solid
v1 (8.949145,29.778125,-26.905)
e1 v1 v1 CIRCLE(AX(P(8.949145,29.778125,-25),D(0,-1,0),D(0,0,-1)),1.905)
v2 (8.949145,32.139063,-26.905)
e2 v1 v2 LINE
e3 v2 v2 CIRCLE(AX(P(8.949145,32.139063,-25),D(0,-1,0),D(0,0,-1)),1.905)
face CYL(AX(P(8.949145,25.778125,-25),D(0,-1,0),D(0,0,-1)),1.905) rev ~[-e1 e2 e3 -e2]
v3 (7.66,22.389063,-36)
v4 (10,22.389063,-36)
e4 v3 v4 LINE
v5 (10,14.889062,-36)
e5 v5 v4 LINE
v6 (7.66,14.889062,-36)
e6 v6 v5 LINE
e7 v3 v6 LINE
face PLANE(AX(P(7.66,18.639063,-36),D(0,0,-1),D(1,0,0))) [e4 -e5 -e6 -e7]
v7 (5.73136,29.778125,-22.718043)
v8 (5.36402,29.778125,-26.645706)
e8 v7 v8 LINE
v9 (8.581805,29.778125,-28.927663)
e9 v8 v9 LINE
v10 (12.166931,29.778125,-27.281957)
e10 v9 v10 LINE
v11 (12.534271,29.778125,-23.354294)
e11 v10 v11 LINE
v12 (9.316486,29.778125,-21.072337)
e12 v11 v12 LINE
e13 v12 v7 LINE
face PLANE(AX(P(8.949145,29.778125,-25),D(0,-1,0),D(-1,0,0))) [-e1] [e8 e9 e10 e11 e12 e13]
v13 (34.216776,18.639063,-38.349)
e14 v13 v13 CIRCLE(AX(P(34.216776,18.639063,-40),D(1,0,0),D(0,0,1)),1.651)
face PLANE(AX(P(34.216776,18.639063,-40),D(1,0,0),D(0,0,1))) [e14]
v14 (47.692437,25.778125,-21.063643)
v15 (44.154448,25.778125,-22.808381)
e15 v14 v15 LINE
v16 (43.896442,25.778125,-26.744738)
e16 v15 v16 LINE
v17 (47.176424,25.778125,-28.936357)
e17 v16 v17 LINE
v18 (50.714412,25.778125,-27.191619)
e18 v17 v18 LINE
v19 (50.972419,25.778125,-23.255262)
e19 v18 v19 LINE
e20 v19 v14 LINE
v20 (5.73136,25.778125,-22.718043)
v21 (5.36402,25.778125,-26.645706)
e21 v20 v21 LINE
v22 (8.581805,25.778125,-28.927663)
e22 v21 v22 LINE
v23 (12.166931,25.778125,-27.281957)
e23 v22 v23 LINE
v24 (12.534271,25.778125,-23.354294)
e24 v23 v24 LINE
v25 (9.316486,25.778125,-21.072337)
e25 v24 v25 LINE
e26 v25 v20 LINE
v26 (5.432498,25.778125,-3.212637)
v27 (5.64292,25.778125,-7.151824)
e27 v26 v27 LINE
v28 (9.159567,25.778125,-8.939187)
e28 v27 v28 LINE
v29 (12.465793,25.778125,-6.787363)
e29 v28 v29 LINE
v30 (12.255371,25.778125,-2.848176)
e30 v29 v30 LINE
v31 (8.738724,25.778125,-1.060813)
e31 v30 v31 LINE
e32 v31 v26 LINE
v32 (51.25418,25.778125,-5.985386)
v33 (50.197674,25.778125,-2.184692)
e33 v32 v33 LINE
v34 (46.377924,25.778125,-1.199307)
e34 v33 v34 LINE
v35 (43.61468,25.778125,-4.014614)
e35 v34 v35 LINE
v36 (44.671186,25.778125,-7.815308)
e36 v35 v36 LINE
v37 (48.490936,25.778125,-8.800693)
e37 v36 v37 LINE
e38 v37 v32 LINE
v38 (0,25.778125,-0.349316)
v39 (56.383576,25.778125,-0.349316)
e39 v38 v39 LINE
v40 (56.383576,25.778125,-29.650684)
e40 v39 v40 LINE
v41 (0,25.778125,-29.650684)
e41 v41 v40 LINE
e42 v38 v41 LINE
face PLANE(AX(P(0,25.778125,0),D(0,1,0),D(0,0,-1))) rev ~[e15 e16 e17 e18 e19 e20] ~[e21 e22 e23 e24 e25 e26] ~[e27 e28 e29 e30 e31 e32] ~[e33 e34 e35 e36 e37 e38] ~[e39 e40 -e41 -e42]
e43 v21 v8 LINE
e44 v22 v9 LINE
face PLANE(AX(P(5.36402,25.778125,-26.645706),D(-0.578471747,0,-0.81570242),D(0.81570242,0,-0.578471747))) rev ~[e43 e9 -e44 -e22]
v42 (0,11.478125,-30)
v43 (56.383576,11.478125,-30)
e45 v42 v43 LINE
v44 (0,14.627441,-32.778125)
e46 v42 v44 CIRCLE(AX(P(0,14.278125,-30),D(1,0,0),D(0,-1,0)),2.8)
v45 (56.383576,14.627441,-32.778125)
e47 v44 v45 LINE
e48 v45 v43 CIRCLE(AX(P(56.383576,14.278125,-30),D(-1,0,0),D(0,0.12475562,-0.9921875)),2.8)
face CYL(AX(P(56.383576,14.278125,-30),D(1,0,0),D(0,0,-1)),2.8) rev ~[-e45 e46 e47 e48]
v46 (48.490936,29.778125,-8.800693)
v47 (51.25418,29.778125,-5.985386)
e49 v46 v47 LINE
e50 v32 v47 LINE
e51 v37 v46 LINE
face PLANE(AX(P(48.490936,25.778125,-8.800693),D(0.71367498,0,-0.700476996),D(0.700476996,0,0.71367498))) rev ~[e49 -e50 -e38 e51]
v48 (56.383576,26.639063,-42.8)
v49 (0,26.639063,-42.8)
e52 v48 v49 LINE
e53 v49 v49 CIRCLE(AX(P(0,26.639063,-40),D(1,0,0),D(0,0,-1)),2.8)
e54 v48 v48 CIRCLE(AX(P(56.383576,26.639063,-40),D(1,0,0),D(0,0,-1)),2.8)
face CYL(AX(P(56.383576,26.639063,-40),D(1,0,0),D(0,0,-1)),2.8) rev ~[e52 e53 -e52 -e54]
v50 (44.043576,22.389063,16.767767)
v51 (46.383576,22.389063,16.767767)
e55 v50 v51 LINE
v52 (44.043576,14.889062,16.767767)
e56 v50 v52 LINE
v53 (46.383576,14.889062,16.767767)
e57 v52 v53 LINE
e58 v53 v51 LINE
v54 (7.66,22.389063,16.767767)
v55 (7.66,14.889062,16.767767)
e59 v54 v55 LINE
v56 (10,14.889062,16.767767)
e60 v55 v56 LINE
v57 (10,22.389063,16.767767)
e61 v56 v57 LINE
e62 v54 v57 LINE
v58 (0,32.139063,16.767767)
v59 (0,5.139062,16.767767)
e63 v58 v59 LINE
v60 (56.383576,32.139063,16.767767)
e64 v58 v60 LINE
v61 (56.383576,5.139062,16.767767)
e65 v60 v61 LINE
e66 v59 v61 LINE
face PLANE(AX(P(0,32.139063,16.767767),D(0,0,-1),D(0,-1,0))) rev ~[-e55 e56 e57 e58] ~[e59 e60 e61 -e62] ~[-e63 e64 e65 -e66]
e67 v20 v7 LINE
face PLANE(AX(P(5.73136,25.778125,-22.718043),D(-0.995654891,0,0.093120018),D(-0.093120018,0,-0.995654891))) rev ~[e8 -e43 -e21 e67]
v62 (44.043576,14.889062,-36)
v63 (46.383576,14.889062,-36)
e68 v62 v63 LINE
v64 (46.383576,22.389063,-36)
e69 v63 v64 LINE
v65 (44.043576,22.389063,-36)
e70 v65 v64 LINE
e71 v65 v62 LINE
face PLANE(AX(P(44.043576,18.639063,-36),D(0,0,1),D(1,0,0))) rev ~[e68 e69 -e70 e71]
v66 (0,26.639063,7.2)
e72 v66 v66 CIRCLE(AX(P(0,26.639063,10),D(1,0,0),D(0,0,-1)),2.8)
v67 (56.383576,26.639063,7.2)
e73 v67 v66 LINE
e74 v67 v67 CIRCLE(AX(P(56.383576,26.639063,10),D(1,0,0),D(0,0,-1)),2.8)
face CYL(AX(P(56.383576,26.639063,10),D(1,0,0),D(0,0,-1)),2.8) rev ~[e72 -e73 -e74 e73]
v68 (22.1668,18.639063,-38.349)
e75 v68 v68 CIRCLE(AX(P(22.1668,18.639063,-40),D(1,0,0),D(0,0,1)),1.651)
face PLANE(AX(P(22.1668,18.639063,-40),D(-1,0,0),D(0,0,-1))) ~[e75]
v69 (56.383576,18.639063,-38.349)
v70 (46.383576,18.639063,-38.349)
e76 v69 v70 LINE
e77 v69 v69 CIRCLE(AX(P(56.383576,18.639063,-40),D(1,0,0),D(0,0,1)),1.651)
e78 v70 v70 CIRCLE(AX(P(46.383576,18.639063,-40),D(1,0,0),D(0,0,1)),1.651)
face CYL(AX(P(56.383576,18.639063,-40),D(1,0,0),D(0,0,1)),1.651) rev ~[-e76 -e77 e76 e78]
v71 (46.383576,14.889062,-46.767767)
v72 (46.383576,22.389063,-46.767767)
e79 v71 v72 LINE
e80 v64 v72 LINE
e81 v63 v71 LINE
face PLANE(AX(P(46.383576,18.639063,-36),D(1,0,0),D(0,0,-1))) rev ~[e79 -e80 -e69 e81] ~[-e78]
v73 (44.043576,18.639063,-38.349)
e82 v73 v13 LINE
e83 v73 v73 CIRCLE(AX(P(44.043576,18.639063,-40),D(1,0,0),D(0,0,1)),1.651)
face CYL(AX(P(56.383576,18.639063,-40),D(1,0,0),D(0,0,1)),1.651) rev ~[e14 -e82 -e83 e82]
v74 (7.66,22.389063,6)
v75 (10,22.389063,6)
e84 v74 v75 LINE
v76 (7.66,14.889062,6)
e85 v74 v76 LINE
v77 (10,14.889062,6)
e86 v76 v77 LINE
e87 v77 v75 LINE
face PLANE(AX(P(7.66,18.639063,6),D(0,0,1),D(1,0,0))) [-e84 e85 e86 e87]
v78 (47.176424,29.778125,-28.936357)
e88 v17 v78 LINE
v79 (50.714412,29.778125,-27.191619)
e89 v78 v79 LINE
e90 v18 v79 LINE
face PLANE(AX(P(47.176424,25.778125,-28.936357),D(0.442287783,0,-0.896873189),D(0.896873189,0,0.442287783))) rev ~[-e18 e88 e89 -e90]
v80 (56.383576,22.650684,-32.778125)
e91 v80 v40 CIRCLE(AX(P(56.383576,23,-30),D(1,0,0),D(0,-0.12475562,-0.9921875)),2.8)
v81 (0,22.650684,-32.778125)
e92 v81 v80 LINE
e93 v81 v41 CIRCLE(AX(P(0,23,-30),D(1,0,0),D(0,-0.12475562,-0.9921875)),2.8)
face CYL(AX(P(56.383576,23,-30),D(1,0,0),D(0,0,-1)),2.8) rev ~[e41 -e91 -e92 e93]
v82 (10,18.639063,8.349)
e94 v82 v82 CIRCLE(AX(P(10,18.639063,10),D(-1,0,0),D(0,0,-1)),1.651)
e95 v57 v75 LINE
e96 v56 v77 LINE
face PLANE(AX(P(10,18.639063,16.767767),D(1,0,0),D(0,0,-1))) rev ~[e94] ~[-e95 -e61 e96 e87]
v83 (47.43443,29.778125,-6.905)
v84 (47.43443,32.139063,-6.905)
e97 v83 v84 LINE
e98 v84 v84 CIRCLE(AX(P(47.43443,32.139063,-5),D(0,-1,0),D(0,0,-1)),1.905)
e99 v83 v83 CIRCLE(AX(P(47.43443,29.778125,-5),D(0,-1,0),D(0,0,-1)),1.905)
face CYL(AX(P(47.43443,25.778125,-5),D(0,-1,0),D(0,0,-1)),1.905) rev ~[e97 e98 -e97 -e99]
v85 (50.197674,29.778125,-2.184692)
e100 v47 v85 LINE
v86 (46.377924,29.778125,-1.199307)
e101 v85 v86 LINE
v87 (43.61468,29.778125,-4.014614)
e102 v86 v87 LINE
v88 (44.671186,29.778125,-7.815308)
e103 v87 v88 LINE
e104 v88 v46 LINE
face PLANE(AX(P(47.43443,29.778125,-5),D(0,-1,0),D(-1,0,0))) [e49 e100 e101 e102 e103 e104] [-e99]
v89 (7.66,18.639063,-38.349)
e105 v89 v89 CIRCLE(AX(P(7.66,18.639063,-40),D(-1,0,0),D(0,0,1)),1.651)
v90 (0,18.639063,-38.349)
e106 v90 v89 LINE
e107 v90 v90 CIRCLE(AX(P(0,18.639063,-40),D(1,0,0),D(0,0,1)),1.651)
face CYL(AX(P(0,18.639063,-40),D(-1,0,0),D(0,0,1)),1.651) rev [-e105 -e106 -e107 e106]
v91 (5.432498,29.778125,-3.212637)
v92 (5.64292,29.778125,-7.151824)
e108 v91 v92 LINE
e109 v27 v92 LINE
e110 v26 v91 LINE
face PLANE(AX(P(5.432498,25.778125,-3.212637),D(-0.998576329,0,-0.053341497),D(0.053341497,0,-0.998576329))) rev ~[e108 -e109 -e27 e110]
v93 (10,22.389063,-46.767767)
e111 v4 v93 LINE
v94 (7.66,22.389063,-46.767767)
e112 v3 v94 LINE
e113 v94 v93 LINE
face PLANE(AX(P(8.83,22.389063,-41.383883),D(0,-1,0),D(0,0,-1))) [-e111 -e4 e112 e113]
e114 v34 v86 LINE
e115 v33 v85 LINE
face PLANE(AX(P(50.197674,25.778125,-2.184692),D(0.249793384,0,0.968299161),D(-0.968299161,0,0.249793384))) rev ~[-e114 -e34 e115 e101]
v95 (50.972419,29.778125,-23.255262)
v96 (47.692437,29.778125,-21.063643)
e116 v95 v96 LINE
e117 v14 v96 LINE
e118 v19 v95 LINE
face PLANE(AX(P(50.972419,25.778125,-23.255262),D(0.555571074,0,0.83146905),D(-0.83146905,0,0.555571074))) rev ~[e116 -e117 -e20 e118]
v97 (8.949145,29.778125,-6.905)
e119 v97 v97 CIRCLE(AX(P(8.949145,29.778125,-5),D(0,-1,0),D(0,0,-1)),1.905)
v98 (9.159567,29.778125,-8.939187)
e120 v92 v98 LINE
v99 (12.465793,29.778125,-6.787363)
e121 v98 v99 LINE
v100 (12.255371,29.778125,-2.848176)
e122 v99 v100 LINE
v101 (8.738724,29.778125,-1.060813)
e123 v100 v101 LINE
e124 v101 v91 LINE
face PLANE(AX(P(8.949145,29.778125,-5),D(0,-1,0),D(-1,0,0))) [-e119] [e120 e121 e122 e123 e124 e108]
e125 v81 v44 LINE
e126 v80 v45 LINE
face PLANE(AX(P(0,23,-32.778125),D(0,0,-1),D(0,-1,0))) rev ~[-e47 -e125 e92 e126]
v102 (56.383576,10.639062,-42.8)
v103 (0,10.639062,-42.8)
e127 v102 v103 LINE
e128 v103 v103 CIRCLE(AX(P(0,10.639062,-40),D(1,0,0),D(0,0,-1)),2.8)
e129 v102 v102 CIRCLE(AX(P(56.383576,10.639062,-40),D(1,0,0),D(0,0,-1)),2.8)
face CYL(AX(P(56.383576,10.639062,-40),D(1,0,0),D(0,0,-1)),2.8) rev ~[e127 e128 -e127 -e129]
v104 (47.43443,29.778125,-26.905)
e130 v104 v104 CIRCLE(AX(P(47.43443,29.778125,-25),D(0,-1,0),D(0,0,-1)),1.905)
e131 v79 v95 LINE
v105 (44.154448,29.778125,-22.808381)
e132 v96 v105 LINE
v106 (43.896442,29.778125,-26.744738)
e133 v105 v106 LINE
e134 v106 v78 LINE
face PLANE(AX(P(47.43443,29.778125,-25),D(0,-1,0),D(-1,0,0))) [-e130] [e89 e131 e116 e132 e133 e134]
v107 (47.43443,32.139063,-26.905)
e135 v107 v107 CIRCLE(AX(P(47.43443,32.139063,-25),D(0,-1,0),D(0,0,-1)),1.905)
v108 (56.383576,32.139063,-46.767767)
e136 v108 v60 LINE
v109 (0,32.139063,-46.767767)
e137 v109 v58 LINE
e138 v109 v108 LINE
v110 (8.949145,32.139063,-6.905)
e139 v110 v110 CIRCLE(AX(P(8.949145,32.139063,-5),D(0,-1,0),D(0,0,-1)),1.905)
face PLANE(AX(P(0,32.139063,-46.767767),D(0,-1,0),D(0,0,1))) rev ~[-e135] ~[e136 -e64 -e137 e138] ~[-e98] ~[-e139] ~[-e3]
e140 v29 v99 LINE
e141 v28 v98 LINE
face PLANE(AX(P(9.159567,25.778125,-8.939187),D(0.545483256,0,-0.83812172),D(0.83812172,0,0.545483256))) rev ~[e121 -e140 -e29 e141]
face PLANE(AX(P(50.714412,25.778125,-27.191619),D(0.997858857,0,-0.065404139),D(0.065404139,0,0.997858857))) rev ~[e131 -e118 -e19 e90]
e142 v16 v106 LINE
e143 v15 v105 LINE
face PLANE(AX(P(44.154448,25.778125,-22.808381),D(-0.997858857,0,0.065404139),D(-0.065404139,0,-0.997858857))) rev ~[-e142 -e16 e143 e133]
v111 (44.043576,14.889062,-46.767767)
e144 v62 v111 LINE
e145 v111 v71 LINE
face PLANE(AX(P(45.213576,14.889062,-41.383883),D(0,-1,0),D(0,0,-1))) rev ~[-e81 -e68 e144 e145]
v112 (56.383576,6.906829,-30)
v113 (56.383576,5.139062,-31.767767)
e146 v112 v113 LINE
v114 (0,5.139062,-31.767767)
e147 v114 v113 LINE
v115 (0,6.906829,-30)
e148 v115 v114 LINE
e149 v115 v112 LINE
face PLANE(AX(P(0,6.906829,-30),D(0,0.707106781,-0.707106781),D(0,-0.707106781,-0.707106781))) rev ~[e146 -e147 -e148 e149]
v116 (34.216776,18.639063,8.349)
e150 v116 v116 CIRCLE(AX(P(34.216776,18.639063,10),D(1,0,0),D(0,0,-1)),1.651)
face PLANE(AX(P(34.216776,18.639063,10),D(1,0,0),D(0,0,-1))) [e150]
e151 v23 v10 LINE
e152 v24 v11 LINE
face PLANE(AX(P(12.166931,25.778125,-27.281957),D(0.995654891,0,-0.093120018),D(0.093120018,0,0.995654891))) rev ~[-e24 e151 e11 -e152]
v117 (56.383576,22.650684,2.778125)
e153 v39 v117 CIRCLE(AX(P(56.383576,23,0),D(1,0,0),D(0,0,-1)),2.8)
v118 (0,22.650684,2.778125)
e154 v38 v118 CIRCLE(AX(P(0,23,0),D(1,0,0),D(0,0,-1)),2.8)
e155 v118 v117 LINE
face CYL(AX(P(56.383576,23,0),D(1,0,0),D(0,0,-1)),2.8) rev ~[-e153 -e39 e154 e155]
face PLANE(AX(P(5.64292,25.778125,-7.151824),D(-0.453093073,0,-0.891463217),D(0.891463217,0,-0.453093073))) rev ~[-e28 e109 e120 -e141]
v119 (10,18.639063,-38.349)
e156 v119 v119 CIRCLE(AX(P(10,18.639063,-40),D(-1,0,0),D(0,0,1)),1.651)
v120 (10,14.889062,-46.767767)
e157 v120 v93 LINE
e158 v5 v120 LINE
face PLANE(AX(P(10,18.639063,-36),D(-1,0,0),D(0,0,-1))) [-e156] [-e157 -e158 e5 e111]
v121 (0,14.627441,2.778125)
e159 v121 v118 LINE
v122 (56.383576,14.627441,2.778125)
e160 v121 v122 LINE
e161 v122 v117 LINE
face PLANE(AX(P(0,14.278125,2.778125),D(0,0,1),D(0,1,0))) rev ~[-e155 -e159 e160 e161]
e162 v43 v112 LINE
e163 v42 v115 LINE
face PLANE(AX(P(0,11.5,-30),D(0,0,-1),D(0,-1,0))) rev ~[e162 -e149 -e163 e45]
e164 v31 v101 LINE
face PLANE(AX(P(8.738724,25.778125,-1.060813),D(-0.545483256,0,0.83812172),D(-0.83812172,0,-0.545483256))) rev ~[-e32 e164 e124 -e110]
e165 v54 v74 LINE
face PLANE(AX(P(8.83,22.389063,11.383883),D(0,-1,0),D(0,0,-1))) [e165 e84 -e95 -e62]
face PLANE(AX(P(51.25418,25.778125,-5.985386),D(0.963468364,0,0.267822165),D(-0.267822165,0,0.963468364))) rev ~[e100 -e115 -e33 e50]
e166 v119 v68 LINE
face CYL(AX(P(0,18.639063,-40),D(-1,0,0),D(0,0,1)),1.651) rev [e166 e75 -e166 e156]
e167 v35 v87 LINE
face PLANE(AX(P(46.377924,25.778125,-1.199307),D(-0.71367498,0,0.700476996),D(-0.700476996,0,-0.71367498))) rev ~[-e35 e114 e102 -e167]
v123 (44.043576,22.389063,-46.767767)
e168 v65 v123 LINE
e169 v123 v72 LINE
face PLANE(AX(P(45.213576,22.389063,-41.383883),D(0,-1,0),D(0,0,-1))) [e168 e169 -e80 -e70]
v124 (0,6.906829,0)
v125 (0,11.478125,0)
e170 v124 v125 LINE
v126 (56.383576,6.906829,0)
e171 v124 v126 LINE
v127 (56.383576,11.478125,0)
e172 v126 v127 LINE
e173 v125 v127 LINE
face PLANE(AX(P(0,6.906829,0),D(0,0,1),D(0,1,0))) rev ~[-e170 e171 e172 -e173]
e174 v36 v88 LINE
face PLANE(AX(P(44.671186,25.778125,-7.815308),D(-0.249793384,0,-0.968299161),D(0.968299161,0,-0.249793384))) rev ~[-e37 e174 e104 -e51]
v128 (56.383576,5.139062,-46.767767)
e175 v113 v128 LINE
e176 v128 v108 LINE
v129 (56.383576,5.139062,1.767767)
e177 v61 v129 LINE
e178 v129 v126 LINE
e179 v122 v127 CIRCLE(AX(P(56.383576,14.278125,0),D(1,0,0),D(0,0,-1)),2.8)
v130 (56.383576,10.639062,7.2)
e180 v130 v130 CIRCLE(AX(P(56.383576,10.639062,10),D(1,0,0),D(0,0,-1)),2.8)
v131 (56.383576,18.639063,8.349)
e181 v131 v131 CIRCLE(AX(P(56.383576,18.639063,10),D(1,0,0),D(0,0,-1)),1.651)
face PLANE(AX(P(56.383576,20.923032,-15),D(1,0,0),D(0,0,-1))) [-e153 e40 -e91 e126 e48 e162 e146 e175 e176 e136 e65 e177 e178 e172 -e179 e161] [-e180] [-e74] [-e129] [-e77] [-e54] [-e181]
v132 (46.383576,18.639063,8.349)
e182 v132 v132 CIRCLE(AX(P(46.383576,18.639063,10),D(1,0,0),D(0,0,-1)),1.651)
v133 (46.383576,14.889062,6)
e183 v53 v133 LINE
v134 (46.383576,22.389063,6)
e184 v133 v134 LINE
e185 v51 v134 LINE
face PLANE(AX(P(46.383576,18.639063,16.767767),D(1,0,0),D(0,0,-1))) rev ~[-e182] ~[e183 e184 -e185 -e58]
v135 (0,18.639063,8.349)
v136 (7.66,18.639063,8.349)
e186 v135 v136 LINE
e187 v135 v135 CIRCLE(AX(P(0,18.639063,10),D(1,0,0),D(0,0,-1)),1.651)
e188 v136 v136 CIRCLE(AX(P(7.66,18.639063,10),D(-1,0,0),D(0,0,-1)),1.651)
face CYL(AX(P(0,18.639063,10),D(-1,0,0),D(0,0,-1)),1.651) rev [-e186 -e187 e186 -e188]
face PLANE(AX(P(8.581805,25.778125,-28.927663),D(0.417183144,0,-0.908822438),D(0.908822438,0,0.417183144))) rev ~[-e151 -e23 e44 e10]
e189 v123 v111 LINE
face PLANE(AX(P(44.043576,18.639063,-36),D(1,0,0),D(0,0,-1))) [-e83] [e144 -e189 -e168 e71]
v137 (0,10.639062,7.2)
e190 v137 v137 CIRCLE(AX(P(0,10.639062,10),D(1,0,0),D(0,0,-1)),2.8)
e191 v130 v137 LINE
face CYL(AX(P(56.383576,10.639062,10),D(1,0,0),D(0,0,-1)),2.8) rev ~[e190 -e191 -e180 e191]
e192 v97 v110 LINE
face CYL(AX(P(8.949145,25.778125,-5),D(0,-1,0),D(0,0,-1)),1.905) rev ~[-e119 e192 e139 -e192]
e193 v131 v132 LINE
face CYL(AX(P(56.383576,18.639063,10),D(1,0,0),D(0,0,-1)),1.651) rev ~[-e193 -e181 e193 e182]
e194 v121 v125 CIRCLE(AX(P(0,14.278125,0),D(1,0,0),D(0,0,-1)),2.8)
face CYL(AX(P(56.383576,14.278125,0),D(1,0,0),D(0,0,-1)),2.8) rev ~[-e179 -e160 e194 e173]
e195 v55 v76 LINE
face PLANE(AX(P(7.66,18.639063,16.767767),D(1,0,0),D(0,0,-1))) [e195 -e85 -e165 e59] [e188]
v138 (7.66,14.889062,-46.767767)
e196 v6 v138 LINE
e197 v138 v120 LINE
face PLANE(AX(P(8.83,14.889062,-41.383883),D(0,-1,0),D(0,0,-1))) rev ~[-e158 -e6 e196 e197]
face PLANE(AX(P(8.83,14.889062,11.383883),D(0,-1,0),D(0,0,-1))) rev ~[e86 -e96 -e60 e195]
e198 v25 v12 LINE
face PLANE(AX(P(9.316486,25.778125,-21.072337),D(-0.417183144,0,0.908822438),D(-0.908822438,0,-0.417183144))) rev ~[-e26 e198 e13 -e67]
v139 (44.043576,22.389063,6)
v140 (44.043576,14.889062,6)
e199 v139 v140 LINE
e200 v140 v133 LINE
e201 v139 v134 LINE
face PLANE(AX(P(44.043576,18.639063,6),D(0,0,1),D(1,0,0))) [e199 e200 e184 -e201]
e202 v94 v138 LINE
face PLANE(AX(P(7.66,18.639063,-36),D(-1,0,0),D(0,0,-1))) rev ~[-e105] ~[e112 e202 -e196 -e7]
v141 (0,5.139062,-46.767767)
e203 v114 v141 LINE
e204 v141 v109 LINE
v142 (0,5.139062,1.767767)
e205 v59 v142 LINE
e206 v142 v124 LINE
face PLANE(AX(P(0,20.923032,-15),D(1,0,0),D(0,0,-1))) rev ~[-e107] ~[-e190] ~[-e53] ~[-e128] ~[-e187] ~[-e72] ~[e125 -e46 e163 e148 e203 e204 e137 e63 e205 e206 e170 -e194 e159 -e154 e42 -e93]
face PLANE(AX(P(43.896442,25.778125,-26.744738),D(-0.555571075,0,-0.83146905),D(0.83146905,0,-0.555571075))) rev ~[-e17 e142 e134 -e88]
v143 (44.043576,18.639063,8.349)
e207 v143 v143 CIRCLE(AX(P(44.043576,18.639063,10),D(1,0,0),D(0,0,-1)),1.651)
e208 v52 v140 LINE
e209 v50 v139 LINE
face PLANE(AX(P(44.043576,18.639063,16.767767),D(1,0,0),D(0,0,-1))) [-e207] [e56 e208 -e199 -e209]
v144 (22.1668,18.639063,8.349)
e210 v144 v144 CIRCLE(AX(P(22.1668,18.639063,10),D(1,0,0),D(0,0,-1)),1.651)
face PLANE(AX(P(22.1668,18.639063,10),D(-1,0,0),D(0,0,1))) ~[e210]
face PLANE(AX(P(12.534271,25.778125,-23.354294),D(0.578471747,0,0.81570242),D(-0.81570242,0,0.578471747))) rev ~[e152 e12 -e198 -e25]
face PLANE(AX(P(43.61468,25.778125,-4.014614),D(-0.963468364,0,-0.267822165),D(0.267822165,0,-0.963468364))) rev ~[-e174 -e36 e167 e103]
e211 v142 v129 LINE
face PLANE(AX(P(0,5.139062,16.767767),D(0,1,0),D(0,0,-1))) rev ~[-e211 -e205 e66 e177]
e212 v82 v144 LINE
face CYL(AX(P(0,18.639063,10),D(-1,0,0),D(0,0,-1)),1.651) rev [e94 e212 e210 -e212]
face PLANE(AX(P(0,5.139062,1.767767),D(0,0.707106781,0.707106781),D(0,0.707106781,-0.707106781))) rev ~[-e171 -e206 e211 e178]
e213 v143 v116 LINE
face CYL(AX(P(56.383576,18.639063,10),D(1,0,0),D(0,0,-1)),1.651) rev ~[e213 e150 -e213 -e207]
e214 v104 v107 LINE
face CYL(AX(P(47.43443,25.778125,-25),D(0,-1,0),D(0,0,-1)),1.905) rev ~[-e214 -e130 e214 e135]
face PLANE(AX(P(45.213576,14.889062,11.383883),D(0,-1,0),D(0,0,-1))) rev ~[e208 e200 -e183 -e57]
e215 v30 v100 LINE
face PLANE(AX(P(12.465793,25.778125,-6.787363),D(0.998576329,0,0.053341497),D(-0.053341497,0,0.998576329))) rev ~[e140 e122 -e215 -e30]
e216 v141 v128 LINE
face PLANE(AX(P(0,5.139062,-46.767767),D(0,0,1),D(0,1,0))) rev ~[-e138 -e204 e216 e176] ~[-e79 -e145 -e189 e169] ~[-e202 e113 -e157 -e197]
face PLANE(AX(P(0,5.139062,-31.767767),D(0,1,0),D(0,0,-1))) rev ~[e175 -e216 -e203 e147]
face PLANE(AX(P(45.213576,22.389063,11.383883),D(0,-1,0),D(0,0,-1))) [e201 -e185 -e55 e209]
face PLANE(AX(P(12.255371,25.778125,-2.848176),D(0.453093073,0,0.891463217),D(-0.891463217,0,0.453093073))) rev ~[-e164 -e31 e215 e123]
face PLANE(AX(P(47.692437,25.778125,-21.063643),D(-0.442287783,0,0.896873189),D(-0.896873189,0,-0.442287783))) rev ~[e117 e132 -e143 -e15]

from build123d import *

# Parameters (mm, degrees)
SKETCH2_R           = 2.778125
BOSS_EXTRUDE2_DEPTH = 56.3835756
SKETCH3_R           = 1.651
CUT_EXTRUDE1_DEPTH  = 22.1668
SKETCH4_W           = 10.767766953
SKETCH4_H           = 2.34
CUT_EXTRUDE2_DEPTH  = 3.75
SKETCH5_R           = 2.8
CUT_EXTRUDE3_DEPTH  = 80.995318373
SKETCH6_R           = 1.905
CUT_EXTRUDE4_DEPTH  = 77.107177875
CUT_EXTRUDE5_DEPTH  = 4


with BuildPart() as part:
    # Sketch2 → Boss-Extrude2 (new body)
    with BuildSketch(Plane(origin=(0, 0, 0), x_dir=(0, 0, -1), z_dir=(1, 0, 0))):
        with BuildLine():
            Line((0, 25.778125), (30, 25.778125))
            ThreePointArc((30, 25.778125), (31.964431026, 24.964431026), (32.778125, 23))
            Line((32.778125, 23), (32.778125, 14.278125))
            ThreePointArc((32.778125, 14.278125), (31.964431026, 12.313693974), (30, 11.5))
            Line((30, 11.5), (30, 6.906829453))
            Line((30, 6.906829453), (31.767766953, 5.1390625))
            Line((31.767766953, 5.1390625), (46.767766953, 5.1390625))
            Line((46.767766953, 5.1390625), (46.767766953, 32.1390625))
            Line((46.767766953, 32.1390625), (-16.767766953, 32.1390625))
            Line((-16.767766953, 32.1390625), (-16.767766953, 5.1390625))
            Line((-16.767766953, 5.1390625), (-1.767766953, 5.1390625))
            Line((-1.767766953, 5.1390625), (0, 6.906829453))
            Line((0, 6.906829453), (0, 11.5))
            ThreePointArc((0, 11.5), (-1.964431026, 12.313693974), (-2.778125, 14.278125))
            Line((-2.778125, 14.278125), (-2.778125, 23))
            ThreePointArc((-2.778125, 23), (-1.964431026, 24.964431026), (0, 25.778125))
        make_face()
        with Locations((-10, 26.6390625)):
            Circle(SKETCH2_R, mode=Mode.SUBTRACT)
        with Locations((-10, 10.6390625)):
            Circle(SKETCH2_R, mode=Mode.SUBTRACT)
        with Locations((40, 10.6390625)):
            Circle(SKETCH2_R, mode=Mode.SUBTRACT)
        with Locations((40, 26.6390625)):
            Circle(SKETCH2_R, mode=Mode.SUBTRACT)
    extrude(amount=BOSS_EXTRUDE2_DEPTH)

    # Sketch3 → Cut-Extrude1 (cut)
    with BuildSketch(Plane(origin=(56.3835756, 0, 0), x_dir=(0, 0, -1), z_dir=(1, 0, 0))):
        with Locations((-10, 18.6390625)):
            Circle(SKETCH3_R)
        with Locations((40, 18.6390625)):
            Circle(SKETCH3_R)
    cut_extrude1 = extrude(amount=-CUT_EXTRUDE1_DEPTH, mode=Mode.SUBTRACT)

    # Sketch4 → Cut-Extrude2 (cut, symmetric)
    with BuildSketch(Plane(origin=(0, 18.6390625, 0), x_dir=(0, 0, -1), z_dir=(0, -1, 0))):
        with Locations((-11.383883477, 45.2135756)):
            Rectangle(SKETCH4_W, SKETCH4_H)
        with Locations((41.383883477, 45.2135756)):
            Rectangle(SKETCH4_W, SKETCH4_H)
        with Locations((-11.383883477, 8.83)):
            Rectangle(SKETCH4_W, SKETCH4_H)
        with Locations((41.383883477, 8.83)):
            Rectangle(SKETCH4_W, SKETCH4_H)
    extrude(amount=CUT_EXTRUDE2_DEPTH, both=True, mode=Mode.SUBTRACT)

    # Sketch5 → Cut-Extrude3 (cut, through all)
    with BuildSketch(Plane(origin=(56.3835756, 0, 0), x_dir=(0, 0, -1), z_dir=(1, 0, 0))):
        with Locations((-10, 26.6390625)):
            Circle(SKETCH5_R)
        with Locations((0, 23)):
            Circle(SKETCH5_R)
        with Locations((-10, 10.6390625)):
            Circle(SKETCH5_R)
        with Locations((40, 26.6390625)):
            Circle(SKETCH5_R)
        with Locations((40, 10.6390625)):
            Circle(SKETCH5_R)
        with Locations((30, 23)):
            Circle(SKETCH5_R)
        with Locations((0, 14.278125)):
            Circle(SKETCH5_R)
        with Locations((30, 14.278125)):
            Circle(SKETCH5_R)
    extrude(amount=-CUT_EXTRUDE3_DEPTH, mode=Mode.SUBTRACT)

    # Mirror1: Cut-Extrude1 across plane
    add(cut_extrude1.mirror(Plane.ZY.offset(-28.1917878)), mode=Mode.SUBTRACT)

    # Sketch6 → Cut-Extrude4 (cut, through all)
    with BuildSketch(Plane.XZ.offset(-25.778125)):
        with Locations((8.949145412, -5)):
            Circle(SKETCH6_R)
        with Locations((47.434430188, -5)):
            Circle(SKETCH6_R)
        with Locations((47.434430188, -25)):
            Circle(SKETCH6_R)
        with Locations((8.949145412, -25)):
            Circle(SKETCH6_R)
    extrude(amount=-CUT_EXTRUDE4_DEPTH, mode=Mode.SUBTRACT)

    # Sketch7 → Cut-Extrude5 (cut)
    with BuildSketch(Plane(origin=(0, 25.778125, 0), x_dir=(-1, 0, 0), z_dir=(0, -1, 0))):
        Polygon((-12.166931132, 27.281957343), (-12.534271302, 23.354294494), (-9.316485582, 21.072337151), (-5.731359693, 22.718042657), (-5.364019523, 26.645705506), (-8.581805243, 28.927662849), align=None)
        Polygon((-12.465792586, 6.787363117), (-12.255370864, 2.84817577), (-8.73872369, 1.060812653), (-5.432498239, 3.212636883), (-5.642919961, 7.15182423), (-9.159567134, 8.939187347), align=None)
        Polygon((-44.671186116, 7.815307524), (-48.490935987, 8.800693325), (-51.254180059, 5.985385801), (-50.197674259, 2.184692476), (-46.377924389, 1.199306675), (-43.614680317, 4.014614199), align=None)
        Polygon((-43.896441738, 26.74473837), (-47.176423714, 28.936357061), (-50.714412164, 27.191618691), (-50.972418638, 23.25526163), (-47.692436661, 21.063642939), (-44.154448211, 22.808381309), align=None)
    extrude(amount=-CUT_EXTRUDE5_DEPTH, mode=Mode.SUBTRACT)


solid = part.part
